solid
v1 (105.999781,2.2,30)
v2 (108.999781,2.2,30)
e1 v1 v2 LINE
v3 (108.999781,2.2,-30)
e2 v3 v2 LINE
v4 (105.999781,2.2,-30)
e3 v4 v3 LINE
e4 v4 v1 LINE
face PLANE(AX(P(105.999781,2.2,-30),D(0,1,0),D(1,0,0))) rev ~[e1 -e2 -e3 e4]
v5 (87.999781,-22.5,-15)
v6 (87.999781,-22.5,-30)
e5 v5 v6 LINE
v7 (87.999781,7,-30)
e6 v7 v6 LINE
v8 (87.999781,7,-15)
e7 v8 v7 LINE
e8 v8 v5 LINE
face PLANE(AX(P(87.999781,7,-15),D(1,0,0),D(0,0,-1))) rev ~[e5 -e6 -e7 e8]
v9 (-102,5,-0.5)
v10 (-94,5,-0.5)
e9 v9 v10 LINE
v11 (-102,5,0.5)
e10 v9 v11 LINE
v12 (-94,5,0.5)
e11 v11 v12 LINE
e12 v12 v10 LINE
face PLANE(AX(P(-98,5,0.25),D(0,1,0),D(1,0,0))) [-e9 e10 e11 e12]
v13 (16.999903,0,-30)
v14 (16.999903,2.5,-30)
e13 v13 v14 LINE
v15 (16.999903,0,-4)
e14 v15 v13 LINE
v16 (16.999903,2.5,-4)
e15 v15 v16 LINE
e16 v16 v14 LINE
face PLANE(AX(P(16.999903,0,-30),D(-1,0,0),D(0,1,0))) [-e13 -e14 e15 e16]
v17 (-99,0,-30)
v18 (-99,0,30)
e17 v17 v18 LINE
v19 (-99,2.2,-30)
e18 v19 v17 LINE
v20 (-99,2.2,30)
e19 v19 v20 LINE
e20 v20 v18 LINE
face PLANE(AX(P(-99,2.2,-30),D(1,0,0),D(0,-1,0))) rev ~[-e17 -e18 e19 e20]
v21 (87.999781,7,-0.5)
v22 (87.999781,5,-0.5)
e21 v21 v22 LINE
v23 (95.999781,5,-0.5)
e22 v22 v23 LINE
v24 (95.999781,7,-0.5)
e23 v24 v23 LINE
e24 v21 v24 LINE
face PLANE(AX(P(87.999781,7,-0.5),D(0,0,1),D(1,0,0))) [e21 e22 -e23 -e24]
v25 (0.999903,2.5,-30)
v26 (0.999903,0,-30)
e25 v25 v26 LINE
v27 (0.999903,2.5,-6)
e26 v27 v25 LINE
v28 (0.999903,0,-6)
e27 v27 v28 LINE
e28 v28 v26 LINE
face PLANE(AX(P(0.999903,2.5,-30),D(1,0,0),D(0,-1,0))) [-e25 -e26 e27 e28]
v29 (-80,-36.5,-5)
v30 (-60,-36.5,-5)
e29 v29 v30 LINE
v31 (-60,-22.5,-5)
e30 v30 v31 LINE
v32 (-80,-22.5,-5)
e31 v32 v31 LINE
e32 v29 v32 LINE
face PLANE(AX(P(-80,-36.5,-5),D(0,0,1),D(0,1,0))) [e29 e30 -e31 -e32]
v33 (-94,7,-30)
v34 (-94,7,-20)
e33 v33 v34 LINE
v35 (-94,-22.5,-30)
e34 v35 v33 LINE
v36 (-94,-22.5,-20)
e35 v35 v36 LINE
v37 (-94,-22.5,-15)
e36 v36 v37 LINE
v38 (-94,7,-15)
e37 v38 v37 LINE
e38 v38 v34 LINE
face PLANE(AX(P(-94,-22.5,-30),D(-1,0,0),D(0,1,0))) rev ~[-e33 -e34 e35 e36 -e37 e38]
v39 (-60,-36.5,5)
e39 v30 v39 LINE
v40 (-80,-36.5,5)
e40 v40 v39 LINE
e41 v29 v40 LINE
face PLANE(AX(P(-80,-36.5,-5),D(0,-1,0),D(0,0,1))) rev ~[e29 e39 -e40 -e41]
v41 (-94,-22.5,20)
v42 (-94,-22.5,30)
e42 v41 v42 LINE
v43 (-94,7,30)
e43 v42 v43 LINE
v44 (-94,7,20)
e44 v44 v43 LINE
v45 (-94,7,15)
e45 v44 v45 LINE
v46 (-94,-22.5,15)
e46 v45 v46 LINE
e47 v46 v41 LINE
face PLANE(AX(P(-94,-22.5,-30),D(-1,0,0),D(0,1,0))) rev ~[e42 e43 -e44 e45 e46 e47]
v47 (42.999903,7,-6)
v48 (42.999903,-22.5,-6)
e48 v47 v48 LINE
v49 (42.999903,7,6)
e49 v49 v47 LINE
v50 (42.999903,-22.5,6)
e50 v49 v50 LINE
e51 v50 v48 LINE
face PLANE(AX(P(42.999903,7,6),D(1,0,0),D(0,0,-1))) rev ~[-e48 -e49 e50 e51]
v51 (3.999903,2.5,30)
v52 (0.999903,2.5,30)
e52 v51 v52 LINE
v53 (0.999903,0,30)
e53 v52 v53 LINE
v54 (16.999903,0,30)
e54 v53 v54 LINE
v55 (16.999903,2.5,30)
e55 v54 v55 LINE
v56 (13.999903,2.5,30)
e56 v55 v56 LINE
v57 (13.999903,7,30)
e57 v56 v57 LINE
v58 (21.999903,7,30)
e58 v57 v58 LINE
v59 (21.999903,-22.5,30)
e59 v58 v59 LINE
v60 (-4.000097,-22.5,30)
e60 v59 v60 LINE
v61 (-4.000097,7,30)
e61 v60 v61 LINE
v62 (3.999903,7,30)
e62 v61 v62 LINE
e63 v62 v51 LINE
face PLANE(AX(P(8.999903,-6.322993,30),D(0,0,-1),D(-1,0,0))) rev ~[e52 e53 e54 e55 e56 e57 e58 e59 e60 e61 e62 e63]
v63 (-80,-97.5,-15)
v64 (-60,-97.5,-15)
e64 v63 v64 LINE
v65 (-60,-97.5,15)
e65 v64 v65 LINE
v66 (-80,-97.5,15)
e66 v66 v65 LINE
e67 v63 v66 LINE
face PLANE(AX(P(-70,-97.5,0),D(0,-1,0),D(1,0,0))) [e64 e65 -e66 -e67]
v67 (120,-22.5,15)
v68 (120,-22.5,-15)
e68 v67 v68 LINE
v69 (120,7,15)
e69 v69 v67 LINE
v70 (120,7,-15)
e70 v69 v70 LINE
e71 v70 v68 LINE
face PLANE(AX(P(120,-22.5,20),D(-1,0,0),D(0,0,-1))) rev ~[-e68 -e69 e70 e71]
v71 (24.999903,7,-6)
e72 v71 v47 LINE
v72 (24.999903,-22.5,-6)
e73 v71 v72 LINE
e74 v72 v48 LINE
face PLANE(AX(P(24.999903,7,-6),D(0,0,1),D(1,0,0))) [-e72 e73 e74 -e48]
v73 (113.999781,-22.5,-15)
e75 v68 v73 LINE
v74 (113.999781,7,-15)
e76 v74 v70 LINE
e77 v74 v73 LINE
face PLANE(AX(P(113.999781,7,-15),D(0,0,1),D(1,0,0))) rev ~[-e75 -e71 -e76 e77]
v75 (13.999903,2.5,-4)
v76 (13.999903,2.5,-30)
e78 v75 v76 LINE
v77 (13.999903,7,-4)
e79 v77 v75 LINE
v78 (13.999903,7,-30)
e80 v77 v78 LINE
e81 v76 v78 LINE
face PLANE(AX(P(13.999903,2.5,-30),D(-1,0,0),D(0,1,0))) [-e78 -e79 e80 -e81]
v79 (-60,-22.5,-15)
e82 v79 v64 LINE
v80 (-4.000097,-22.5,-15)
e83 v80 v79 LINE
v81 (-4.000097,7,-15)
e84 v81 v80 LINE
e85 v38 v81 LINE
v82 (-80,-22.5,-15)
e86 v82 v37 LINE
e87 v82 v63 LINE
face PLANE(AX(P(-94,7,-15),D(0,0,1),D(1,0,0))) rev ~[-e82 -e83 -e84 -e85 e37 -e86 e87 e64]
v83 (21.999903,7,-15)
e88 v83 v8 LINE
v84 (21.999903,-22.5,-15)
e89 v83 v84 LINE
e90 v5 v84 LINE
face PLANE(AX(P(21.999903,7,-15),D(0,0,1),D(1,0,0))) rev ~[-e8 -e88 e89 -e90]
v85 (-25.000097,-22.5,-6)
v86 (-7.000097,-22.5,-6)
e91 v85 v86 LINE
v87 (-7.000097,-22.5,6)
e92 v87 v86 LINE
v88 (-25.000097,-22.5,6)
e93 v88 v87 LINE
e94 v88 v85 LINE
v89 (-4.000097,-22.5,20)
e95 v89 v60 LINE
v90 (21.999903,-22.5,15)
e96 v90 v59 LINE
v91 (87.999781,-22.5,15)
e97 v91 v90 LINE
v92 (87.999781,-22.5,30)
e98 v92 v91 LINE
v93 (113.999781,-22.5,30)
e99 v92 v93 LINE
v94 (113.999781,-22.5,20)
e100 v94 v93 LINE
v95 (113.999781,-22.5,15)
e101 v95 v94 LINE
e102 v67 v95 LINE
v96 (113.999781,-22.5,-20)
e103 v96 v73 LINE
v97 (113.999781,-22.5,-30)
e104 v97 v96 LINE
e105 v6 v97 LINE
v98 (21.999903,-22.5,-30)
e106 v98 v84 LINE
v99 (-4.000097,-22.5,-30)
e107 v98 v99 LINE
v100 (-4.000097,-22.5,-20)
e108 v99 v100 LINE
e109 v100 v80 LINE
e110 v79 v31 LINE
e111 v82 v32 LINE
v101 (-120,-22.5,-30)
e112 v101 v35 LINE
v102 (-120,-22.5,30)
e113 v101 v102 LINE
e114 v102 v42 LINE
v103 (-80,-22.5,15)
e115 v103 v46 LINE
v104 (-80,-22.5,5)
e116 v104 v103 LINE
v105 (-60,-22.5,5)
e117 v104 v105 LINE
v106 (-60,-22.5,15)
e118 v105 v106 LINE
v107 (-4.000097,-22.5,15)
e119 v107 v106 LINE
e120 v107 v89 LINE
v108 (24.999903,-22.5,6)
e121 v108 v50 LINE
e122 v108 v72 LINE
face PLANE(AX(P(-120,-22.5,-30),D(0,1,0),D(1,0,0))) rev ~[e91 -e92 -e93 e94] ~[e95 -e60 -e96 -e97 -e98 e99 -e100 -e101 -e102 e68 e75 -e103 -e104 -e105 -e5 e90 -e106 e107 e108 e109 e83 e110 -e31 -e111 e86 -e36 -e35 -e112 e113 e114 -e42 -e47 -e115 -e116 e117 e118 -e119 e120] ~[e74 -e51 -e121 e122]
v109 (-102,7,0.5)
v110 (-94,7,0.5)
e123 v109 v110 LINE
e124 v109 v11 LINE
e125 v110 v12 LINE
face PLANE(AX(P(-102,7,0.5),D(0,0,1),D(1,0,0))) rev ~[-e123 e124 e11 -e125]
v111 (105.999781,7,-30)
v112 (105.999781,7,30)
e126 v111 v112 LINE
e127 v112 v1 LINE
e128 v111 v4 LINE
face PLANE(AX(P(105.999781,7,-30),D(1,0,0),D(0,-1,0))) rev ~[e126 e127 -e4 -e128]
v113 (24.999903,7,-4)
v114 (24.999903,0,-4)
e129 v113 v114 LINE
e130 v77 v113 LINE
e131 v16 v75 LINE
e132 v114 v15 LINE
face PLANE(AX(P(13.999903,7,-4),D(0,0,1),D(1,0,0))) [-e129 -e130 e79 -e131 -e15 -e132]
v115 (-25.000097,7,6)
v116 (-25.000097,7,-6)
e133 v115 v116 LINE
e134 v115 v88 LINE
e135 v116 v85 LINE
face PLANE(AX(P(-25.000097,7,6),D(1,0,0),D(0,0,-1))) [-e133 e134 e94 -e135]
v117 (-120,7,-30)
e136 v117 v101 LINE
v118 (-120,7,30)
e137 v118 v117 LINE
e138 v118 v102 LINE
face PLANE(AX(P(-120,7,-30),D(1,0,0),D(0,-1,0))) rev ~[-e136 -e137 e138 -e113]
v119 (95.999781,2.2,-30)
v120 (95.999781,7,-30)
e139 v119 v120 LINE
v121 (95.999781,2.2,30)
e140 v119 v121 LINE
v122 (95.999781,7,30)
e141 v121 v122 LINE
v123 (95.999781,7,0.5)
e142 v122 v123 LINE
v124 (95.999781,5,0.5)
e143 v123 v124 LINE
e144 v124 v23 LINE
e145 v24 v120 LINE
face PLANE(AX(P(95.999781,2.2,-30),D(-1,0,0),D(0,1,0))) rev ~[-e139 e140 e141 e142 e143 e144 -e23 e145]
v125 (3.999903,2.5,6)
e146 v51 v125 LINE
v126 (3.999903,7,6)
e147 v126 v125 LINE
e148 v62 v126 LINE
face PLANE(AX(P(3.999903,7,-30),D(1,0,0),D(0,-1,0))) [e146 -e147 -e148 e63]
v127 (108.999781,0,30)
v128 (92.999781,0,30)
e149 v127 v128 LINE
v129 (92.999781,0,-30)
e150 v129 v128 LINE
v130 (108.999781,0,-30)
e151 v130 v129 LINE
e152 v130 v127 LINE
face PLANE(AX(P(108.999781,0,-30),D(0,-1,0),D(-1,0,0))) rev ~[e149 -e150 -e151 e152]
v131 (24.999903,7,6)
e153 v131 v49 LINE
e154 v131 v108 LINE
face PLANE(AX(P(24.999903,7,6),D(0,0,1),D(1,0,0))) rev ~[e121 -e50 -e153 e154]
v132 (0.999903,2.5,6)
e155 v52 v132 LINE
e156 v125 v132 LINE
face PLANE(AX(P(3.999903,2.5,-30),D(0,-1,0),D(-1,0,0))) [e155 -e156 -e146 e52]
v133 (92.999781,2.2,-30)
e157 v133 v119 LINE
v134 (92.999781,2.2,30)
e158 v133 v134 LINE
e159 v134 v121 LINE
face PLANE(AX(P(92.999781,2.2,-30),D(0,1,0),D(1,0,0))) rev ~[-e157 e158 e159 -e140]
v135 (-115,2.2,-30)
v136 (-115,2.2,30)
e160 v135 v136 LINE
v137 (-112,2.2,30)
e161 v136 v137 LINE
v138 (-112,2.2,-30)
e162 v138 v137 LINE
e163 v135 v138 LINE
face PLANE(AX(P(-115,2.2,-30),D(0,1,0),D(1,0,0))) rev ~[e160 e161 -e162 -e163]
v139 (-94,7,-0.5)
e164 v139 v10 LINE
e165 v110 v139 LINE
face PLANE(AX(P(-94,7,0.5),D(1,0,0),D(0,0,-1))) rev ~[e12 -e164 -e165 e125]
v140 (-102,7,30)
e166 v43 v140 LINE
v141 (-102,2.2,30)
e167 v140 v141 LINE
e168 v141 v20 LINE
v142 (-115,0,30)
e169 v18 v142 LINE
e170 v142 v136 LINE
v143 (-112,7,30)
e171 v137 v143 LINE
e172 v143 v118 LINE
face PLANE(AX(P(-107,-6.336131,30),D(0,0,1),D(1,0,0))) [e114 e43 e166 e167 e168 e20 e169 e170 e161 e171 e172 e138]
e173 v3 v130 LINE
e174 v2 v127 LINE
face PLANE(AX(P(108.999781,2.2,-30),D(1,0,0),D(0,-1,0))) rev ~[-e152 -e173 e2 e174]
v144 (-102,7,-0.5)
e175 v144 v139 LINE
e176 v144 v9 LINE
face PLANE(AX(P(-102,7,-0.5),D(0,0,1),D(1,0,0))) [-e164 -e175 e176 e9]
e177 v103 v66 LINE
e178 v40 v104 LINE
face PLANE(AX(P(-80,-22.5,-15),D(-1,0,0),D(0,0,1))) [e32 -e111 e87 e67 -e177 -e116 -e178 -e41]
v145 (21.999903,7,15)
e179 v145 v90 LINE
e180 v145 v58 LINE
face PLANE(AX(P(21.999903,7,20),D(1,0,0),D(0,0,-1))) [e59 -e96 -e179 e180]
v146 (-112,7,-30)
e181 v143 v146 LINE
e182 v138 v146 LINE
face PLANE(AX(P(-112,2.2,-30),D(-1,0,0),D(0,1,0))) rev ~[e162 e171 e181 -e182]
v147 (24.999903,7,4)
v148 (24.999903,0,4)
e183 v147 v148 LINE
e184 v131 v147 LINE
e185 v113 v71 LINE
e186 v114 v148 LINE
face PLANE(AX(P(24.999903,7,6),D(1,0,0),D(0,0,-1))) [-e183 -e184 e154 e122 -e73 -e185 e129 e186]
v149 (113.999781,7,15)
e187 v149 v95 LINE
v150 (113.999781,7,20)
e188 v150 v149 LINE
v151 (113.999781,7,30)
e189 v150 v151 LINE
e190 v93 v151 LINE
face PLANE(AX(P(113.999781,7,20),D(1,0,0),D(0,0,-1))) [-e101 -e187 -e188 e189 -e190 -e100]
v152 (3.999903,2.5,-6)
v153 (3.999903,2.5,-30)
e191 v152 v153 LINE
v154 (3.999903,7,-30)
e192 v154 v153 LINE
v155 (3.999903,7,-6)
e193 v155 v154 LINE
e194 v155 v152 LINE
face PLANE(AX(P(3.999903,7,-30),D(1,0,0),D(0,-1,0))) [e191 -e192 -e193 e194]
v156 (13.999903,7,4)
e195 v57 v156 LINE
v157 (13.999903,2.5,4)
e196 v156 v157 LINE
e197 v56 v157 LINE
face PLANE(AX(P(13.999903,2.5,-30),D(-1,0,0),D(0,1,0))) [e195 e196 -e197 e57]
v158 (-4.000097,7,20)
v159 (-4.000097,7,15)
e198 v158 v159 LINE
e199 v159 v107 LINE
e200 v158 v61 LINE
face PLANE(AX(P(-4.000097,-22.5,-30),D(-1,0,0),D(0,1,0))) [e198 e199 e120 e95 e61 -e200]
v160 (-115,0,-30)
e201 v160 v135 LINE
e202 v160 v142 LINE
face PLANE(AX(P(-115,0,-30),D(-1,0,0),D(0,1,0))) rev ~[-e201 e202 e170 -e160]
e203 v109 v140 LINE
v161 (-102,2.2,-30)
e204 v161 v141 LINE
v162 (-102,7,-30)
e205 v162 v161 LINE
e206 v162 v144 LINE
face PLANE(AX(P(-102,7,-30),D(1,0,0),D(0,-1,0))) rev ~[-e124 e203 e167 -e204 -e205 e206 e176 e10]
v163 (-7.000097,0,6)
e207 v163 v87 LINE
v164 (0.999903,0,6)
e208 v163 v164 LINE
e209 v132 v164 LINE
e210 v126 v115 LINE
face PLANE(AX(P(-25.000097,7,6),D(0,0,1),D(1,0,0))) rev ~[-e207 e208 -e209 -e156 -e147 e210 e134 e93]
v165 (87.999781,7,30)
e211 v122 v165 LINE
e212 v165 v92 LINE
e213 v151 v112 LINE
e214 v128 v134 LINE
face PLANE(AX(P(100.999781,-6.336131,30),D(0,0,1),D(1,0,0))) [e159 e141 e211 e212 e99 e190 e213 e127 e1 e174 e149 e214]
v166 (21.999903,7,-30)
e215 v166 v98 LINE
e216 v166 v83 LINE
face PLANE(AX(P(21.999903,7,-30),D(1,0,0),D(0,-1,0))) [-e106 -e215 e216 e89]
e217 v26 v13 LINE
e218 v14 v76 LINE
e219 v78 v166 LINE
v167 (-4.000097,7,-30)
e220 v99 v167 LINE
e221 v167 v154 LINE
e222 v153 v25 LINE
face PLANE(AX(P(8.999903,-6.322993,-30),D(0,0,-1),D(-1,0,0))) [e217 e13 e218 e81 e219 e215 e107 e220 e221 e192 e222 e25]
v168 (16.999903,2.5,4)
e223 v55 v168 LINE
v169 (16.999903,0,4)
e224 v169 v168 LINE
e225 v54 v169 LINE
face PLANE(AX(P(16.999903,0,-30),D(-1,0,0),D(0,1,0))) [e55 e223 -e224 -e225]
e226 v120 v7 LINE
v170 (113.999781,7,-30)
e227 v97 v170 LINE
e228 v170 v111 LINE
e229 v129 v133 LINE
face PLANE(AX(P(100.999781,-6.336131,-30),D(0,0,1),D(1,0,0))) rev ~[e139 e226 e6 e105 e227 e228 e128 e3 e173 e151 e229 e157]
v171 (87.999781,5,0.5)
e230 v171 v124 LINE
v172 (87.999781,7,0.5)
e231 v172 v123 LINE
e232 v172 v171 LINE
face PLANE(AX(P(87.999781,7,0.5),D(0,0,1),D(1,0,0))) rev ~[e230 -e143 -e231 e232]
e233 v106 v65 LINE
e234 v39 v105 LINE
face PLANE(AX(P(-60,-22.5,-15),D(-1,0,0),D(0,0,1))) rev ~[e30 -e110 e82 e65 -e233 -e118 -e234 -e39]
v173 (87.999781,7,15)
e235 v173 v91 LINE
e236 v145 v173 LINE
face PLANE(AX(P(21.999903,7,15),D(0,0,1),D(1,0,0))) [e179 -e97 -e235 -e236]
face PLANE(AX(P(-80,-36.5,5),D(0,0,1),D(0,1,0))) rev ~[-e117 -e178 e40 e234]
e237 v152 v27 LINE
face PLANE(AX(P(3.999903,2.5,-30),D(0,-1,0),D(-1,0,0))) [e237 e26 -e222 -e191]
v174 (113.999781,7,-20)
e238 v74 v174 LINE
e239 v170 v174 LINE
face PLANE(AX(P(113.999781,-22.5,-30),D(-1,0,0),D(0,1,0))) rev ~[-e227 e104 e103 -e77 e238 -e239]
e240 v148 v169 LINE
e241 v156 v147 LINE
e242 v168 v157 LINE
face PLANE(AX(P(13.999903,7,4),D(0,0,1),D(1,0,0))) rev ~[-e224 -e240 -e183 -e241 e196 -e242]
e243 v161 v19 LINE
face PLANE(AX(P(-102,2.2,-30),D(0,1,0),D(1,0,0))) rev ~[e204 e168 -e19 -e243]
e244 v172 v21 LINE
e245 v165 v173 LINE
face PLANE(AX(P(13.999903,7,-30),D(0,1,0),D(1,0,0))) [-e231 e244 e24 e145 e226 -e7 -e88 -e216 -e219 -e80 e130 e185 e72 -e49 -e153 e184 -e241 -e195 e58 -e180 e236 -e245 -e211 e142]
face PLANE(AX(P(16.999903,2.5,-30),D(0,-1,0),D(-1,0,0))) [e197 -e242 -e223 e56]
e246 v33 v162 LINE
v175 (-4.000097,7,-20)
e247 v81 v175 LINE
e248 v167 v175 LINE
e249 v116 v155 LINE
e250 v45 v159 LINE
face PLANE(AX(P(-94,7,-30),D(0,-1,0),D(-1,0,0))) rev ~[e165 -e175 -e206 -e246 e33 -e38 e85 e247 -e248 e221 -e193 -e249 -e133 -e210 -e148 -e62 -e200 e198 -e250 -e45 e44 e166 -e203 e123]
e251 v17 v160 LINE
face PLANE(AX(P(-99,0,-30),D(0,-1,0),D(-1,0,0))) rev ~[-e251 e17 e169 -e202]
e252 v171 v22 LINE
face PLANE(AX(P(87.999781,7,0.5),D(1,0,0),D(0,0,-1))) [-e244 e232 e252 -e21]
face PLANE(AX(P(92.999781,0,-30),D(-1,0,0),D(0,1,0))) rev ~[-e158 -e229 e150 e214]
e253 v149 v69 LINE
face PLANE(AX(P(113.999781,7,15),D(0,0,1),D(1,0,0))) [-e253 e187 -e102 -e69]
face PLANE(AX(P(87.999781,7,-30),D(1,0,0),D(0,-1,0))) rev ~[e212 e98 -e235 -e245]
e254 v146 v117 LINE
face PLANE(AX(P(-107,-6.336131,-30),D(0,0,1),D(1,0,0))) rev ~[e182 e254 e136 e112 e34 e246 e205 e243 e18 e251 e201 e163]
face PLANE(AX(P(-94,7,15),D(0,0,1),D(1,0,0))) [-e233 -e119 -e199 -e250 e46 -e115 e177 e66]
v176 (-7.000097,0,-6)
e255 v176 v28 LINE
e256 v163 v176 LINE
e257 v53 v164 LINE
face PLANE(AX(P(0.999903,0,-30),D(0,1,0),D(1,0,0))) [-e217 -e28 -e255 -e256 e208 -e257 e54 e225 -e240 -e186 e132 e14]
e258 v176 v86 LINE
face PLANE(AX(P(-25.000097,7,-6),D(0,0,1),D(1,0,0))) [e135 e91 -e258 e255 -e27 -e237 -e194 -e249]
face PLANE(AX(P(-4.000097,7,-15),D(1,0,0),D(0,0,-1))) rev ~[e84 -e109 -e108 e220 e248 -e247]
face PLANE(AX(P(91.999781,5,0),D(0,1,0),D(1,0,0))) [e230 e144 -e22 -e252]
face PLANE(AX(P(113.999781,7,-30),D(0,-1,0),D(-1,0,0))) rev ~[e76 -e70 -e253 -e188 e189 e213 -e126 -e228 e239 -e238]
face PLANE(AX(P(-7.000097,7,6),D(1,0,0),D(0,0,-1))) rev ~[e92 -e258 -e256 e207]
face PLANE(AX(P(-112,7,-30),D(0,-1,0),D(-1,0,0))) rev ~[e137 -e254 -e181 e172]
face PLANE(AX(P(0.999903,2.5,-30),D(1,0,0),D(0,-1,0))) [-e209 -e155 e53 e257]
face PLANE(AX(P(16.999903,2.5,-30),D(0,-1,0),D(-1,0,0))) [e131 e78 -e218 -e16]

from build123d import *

# Parameters (mm, degrees)
BOSS_EXTRUDE1_DEPTH      = 15
BOSS_EXTRUDE1_DEPTH_BACK = 22.5
SKETCH2_W                = 240
SKETCH2_H                = 40
CUT_EXTRUDE1_REACH       = 130.477
SKETCH3_W                = 16
SKETCH3_H                = 2.2
SKETCH3_H_2              = 2.5
SKETCH5_W                = 240
SKETCH5_H                = 40
CUT_EXTRUDE2_DEPTH       = 8
SKETCH6_W                = 20
SKETCH6_H                = 30
BOSS_EXTRUDE2_DEPTH      = 75
CUT_EXTRUDE3_REACH       = 161.707
SKETCH8_W                = 10
SKETCH8_H                = 4.8
SKETCH8_H_2              = 4.5
SKETCH9_R                = 2.1
CUT_EXTRUDE4_DEPTH       = 4.4
SKETCH11_R               = 1.55
CUT_EXTRUDE5_DEPTH       = 11
SKETCH10_R               = 1.55
CUT_EXTRUDE6_DEPTH       = 11
SKETCH12_R               = 2.1
CUT_EXTRUDE7_DEPTH       = 4.4
SKETCH13_R               = 1.65
CUT_EXTRUDE8_DEPTH       = 11
SKETCH14_W               = 18
SKETCH14_H               = 12
CUT_EXTRUDE9_DEPTH       = 29.5
SKETCH15_W               = 10
SKETCH15_H               = 14
CUT_EXTRUDE10_DEPTH      = 20
BOSS_EXTRUDE3_DEPTH      = 10
BOSS_EXTRUDE3_DEPTH_BACK = 50
CUT_EXTRUDE11_REACH      = 163.927
SKETCH18_W               = 89.999903017
SKETCH18_H               = 5
SKETCH18_W_2             = 6.000219265
SKETCH18_W_3             = 65.999877718
SKETCH20_W               = 11
SKETCH20_H               = 12
CUT_EXTRUDE12_DEPTH      = 7
SKETCH21_W               = 8
SKETCH21_H               = 0.5
CUT_EXTRUDE13_DEPTH      = 2
SKETCH22_W               = 8
SKETCH22_H               = 1
CUT_EXTRUDE14_DEPTH      = 2
CUT_EXTRUDE15_REACH      = 163.927
SKETCH23_W               = 11
SKETCH23_H               = 8


with BuildPart() as part:
    # Sketch2 → Boss-Extrude1 (new, two sides: drawn at the far end of the back side and taken through both)
    with BuildSketch(Plane(origin=(0, 0, 0), x_dir=(1, 0, 0), z_dir=(0, 1, 0)).offset(-BOSS_EXTRUDE1_DEPTH_BACK)):
        Rectangle(SKETCH2_W, SKETCH2_H)
    extrude(amount=BOSS_EXTRUDE1_DEPTH + BOSS_EXTRUDE1_DEPTH_BACK)

    # Sketch3 → Cut-Extrude1 (cut, up to next)
    with BuildSketch(Plane.XY.offset(20), mode=Mode.PRIVATE) as cut_extrude1_sk1:
        with Locations((-107, 1.1)):
            Rectangle(SKETCH3_W, SKETCH3_H)
    cut_extrude1_tool1 = extrude(cut_extrude1_sk1.sketch, amount=-CUT_EXTRUDE1_REACH, mode=Mode.PRIVATE) & part.part
    # Sketch3 → Cut-Extrude1 (cut, up to next)
    with BuildSketch(Plane.XY.offset(20), mode=Mode.PRIVATE) as cut_extrude1_sk2:
        with Locations((8.999903017, 1.25)):
            Rectangle(SKETCH3_W, SKETCH3_H_2)
    cut_extrude1_tool2 = extrude(cut_extrude1_sk2.sketch, amount=-CUT_EXTRUDE1_REACH, mode=Mode.PRIVATE) & part.part
    # Sketch3 → Cut-Extrude1 (cut, up to next)
    with BuildSketch(Plane.XY.offset(20), mode=Mode.PRIVATE) as cut_extrude1_sk3:
        with Locations((100.999780735, 1.1)):
            Rectangle(SKETCH3_W, SKETCH3_H)
    cut_extrude1_tool3 = extrude(cut_extrude1_sk3.sketch, amount=-CUT_EXTRUDE1_REACH, mode=Mode.PRIVATE) & part.part
    add(cut_extrude1_tool1.solids().sort_by_distance((-107, 1.1, 20))[0], mode=Mode.SUBTRACT)
    add(cut_extrude1_tool2.solids().sort_by_distance((8.999903, 1.25, 20))[0], mode=Mode.SUBTRACT)
    add(cut_extrude1_tool3.solids().sort_by_distance((100.999781, 1.1, 20))[0], mode=Mode.SUBTRACT)

    # Sketch5 → Cut-Extrude2 (cut)
    with BuildSketch(Plane(origin=(0, 15, 0), x_dir=(1, 0, 0), z_dir=(0, 1, 0))):
        Rectangle(SKETCH5_W, SKETCH5_H)
    extrude(amount=-CUT_EXTRUDE2_DEPTH, mode=Mode.SUBTRACT)

    # Sketch6 → Boss-Extrude2 (add)
    with BuildSketch(Plane.XZ.offset(22.5)):
        with Locations((-70, 0)):
            Rectangle(SKETCH6_W, SKETCH6_H)
    extrude(amount=BOSS_EXTRUDE2_DEPTH)

    # Sketch8 → Cut-Extrude3 (cut, up to next)
    with BuildSketch(Plane.XY.offset(20), mode=Mode.PRIVATE) as cut_extrude3_sk1:
        with Locations((-107, 4.6)):
            Rectangle(SKETCH8_W, SKETCH8_H)
    cut_extrude3_tool1 = extrude(cut_extrude3_sk1.sketch, amount=-CUT_EXTRUDE3_REACH, mode=Mode.PRIVATE) & part.part
    # Sketch8 → Cut-Extrude3 (cut, up to next)
    with BuildSketch(Plane.XY.offset(20), mode=Mode.PRIVATE) as cut_extrude3_sk2:
        with Locations((8.999903017, 4.75)):
            Rectangle(SKETCH8_W, SKETCH8_H_2)
    cut_extrude3_tool2 = extrude(cut_extrude3_sk2.sketch, amount=-CUT_EXTRUDE3_REACH, mode=Mode.PRIVATE) & part.part
    # Sketch8 → Cut-Extrude3 (cut, up to next)
    with BuildSketch(Plane.XY.offset(20), mode=Mode.PRIVATE) as cut_extrude3_sk3:
        with Locations((100.999780735, 4.6)):
            Rectangle(SKETCH8_W, SKETCH8_H)
    cut_extrude3_tool3 = extrude(cut_extrude3_sk3.sketch, amount=-CUT_EXTRUDE3_REACH, mode=Mode.PRIVATE) & part.part
    add(cut_extrude3_tool1.solids().sort_by_distance((-107, 4.6, 20))[0], mode=Mode.SUBTRACT)
    add(cut_extrude3_tool2.solids().sort_by_distance((8.999903, 4.75, 20))[0], mode=Mode.SUBTRACT)
    add(cut_extrude3_tool3.solids().sort_by_distance((100.999781, 4.6, 20))[0], mode=Mode.SUBTRACT)

    # Sketch9 → Cut-Extrude4 (cut)
    with BuildSketch(Plane(origin=(0, 0, 0), x_dir=(1, 0, 0), z_dir=(0, 1, 0))):
        with Locations(Location((-107, 0, 0), (0, 0, 270))):
            Circle(SKETCH9_R)
        with Locations(Location((100.999780735, 0, 0), (0, 0, 270))):
            Circle(SKETCH9_R)
    extrude(amount=-CUT_EXTRUDE4_DEPTH, mode=Mode.SUBTRACT)

    # Sketch11 → Cut-Extrude5 (cut)
    with BuildSketch(Plane(origin=(0, -4.4, 0), x_dir=(1, 0, 0), z_dir=(0, 1, 0))):
        with Locations(Location((100.999780735, 0, 0), (0, 0, 270))):
            Circle(SKETCH11_R)
    extrude(amount=-CUT_EXTRUDE5_DEPTH, mode=Mode.SUBTRACT)

    # Sketch10 → Cut-Extrude6 (cut)
    with BuildSketch(Plane(origin=(0, -4.4, 0), x_dir=(1, 0, 0), z_dir=(0, 1, 0))):
        with Locations(Location((-107, 0, 0), (0, 0, 270))):
            Circle(SKETCH10_R)
    extrude(amount=-CUT_EXTRUDE6_DEPTH, mode=Mode.SUBTRACT)

    # Sketch12 → Cut-Extrude7 (cut)
    with BuildSketch(Plane(origin=(0, 0, 0), x_dir=(1, 0, 0), z_dir=(0, 1, 0))):
        with Locations(Location((10.715225152, -11.813940745, 0), (0, 0, 270))):
            Circle(SKETCH12_R)
        with Locations(Location((10.75, 12, 0), (0, 0, 270))):
            Circle(SKETCH12_R)
    extrude(amount=-CUT_EXTRUDE7_DEPTH, mode=Mode.SUBTRACT)

    # Sketch13 → Cut-Extrude8 (cut)
    with BuildSketch(Plane(origin=(0, -4.4, 0), x_dir=(1, 0, 0), z_dir=(0, 1, 0))):
        with Locations(Location((10.715225152, -11.813940745, 0), (0, 0, 270))):
            Circle(SKETCH13_R)
        with Locations(Location((10.75, 12, 0), (0, 0, 270))):
            Circle(SKETCH13_R)
    extrude(amount=-CUT_EXTRUDE8_DEPTH, mode=Mode.SUBTRACT)

    # Sketch14 → Cut-Extrude9 (cut)
    with BuildSketch(Plane(origin=(0, 7, 0), x_dir=(1, 0, 0), z_dir=(0, 1, 0))):
        with Locations((-16.000096983, 0)):
            Rectangle(SKETCH14_W, SKETCH14_H)
        with Locations((33.999903017, 0)):
            Rectangle(SKETCH14_W, SKETCH14_H)
    extrude(amount=-CUT_EXTRUDE9_DEPTH, mode=Mode.SUBTRACT)

    # Sketch15 → Cut-Extrude10 (cut)
    with BuildSketch(Plane.ZY.offset(80)):
        with Locations((0, -29.5)):
            Rectangle(SKETCH15_W, SKETCH15_H)
    extrude(amount=-CUT_EXTRUDE10_DEPTH, mode=Mode.SUBTRACT)

    # Sketch17 → Boss-Extrude3 (add, two sides: drawn at the far end of the back side and taken through both)
    with BuildSketch(Plane.XY.offset(20).offset(-BOSS_EXTRUDE3_DEPTH_BACK)):
        Polygon((-120, 7), (-120, -22.5), (-94, -22.5), (-94, 7), (-102, 7), (-102, 2.2), (-99, 2.2), (-99, 0), (-115, 0), (-115, 2.2), (-112, 2.2), (-112, 7), align=None)
        Polygon((21.999903017, 7), (21.999903017, -22.5), (-4.000096983, -22.5), (-4.000096983, 7), (3.999903017, 7), (3.999903017, 2.5), (0.999903017, 2.5), (0.999903017, 0), (16.999903017, 0), (16.999903017, 2.5), (13.999903017, 2.5), (13.999903017, 7), align=None)
        Polygon((87.999780735, 7), (87.999780735, -22.5), (113.999780735, -22.5), (113.999780735, 7), (105.999780735, 7), (105.999780735, 2.2), (108.999780735, 2.2), (108.999780735, 0), (92.999780735, 0), (92.999780735, 2.2), (95.999780735, 2.2), (95.999780735, 7), align=None)
    extrude(amount=BOSS_EXTRUDE3_DEPTH + BOSS_EXTRUDE3_DEPTH_BACK)

    # Sketch18 → Cut-Extrude11 (cut, up to next)
    with BuildSketch(Plane(origin=(0, 7, 0), x_dir=(1, 0, 0), z_dir=(0, 1, 0)), mode=Mode.PRIVATE) as cut_extrude11_sk1:
        with Locations((-49.000048492, -17.5)):
            Rectangle(SKETCH18_W, SKETCH18_H)
    cut_extrude11_tool1 = extrude(cut_extrude11_sk1.sketch, amount=-CUT_EXTRUDE11_REACH, mode=Mode.PRIVATE) & part.part
    # Sketch18 → Cut-Extrude11 (cut, up to next)
    with BuildSketch(Plane(origin=(0, 7, 0), x_dir=(1, 0, 0), z_dir=(0, 1, 0)), mode=Mode.PRIVATE) as cut_extrude11_sk2:
        with Locations((116.999890368, -17.5)):
            Rectangle(SKETCH18_W_2, SKETCH18_H)
    cut_extrude11_tool2 = extrude(cut_extrude11_sk2.sketch, amount=-CUT_EXTRUDE11_REACH, mode=Mode.PRIVATE) & part.part
    # Sketch18 → Cut-Extrude11 (cut, up to next)
    with BuildSketch(Plane(origin=(0, 7, 0), x_dir=(1, 0, 0), z_dir=(0, 1, 0)), mode=Mode.PRIVATE) as cut_extrude11_sk3:
        with Locations((-49.000048492, 17.5)):
            Rectangle(SKETCH18_W, SKETCH18_H)
    cut_extrude11_tool3 = extrude(cut_extrude11_sk3.sketch, amount=-CUT_EXTRUDE11_REACH, mode=Mode.PRIVATE) & part.part
    # Sketch18 → Cut-Extrude11 (cut, up to next)
    with BuildSketch(Plane(origin=(0, 7, 0), x_dir=(1, 0, 0), z_dir=(0, 1, 0)), mode=Mode.PRIVATE) as cut_extrude11_sk4:
        with Locations((54.999841876, -17.5)):
            Rectangle(SKETCH18_W_3, SKETCH18_H)
    cut_extrude11_tool4 = extrude(cut_extrude11_sk4.sketch, amount=-CUT_EXTRUDE11_REACH, mode=Mode.PRIVATE) & part.part
    # Sketch18 → Cut-Extrude11 (cut, up to next)
    with BuildSketch(Plane(origin=(0, 7, 0), x_dir=(1, 0, 0), z_dir=(0, 1, 0)), mode=Mode.PRIVATE) as cut_extrude11_sk5:
        with Locations((116.999890368, 17.5)):
            Rectangle(SKETCH18_W_2, SKETCH18_H)
    cut_extrude11_tool5 = extrude(cut_extrude11_sk5.sketch, amount=-CUT_EXTRUDE11_REACH, mode=Mode.PRIVATE) & part.part
    # Sketch18 → Cut-Extrude11 (cut, up to next)
    with BuildSketch(Plane(origin=(0, 7, 0), x_dir=(1, 0, 0), z_dir=(0, 1, 0)), mode=Mode.PRIVATE) as cut_extrude11_sk6:
        with Locations((54.999841876, 17.5)):
            Rectangle(SKETCH18_W_3, SKETCH18_H)
    cut_extrude11_tool6 = extrude(cut_extrude11_sk6.sketch, amount=-CUT_EXTRUDE11_REACH, mode=Mode.PRIVATE) & part.part
    add(cut_extrude11_tool1.solids().sort_by_distance((-49.000048, 7, 17.5))[0], mode=Mode.SUBTRACT)
    add(cut_extrude11_tool2.solids().sort_by_distance((116.99989, 7, 17.5))[0], mode=Mode.SUBTRACT)
    add(cut_extrude11_tool3.solids().sort_by_distance((-49.000048, 7, -17.5))[0], mode=Mode.SUBTRACT)
    add(cut_extrude11_tool4.solids().sort_by_distance((54.999842, 7, 17.5))[0], mode=Mode.SUBTRACT)
    add(cut_extrude11_tool5.solids().sort_by_distance((116.99989, 7, -17.5))[0], mode=Mode.SUBTRACT)
    add(cut_extrude11_tool6.solids().sort_by_distance((54.999842, 7, -17.5))[0], mode=Mode.SUBTRACT)

    # Sketch20 → Cut-Extrude12 (cut)
    with BuildSketch(Plane(origin=(0, 7, 0), x_dir=(1, 0, 0), z_dir=(0, 1, 0))):
        with Locations((-1.500096983, 0)):
            Rectangle(SKETCH20_W, SKETCH20_H)
    extrude(amount=-CUT_EXTRUDE12_DEPTH, mode=Mode.SUBTRACT)

    # Sketch21 → Cut-Extrude13 (cut)
    with BuildSketch(Plane(origin=(0, 7, 0), x_dir=(1, 0, 0), z_dir=(0, 1, 0))):
        with Locations((-98, -0.25)):
            Rectangle(SKETCH21_W, SKETCH21_H)
        with Locations((-98, 0.25)):
            Rectangle(SKETCH21_W, SKETCH21_H)
    extrude(amount=-CUT_EXTRUDE13_DEPTH, mode=Mode.SUBTRACT)

    # Sketch22 → Cut-Extrude14 (cut)
    with BuildSketch(Plane(origin=(0, 7, 0), x_dir=(1, 0, 0), z_dir=(0, 1, 0))):
        with Locations((91.999780735, 0)):
            Rectangle(SKETCH22_W, SKETCH22_H)
    extrude(amount=-CUT_EXTRUDE14_DEPTH, mode=Mode.SUBTRACT)

    # Cut-Extrude15: up to this face of the body (flat: up to its plane)
    cut_extrude15_end = Plane(part.part.faces().sort_by_distance((7.908993926, 0, 0))[0])
    # Sketch23 → Cut-Extrude15 (cut, up to the picked face)
    with BuildSketch(Plane(origin=(0, 7, 0), x_dir=(1, 0, 0), z_dir=(0, 1, 0)), mode=Mode.PRIVATE) as cut_extrude15_sk1:
        with Locations((19.499903017, 0)):
            Rectangle(SKETCH23_W, SKETCH23_H)
    cut_extrude15_tool1 = split(extrude(cut_extrude15_sk1.sketch, amount=-CUT_EXTRUDE15_REACH, mode=Mode.PRIVATE), bisect_by=cut_extrude15_end, keep=Keep.BOTH, mode=Mode.PRIVATE)
    add(cut_extrude15_tool1.solids().sort_by(Axis((19.499903, 7, 0), (0, -1, 0)))[0], mode=Mode.SUBTRACT)


solid = part.part
